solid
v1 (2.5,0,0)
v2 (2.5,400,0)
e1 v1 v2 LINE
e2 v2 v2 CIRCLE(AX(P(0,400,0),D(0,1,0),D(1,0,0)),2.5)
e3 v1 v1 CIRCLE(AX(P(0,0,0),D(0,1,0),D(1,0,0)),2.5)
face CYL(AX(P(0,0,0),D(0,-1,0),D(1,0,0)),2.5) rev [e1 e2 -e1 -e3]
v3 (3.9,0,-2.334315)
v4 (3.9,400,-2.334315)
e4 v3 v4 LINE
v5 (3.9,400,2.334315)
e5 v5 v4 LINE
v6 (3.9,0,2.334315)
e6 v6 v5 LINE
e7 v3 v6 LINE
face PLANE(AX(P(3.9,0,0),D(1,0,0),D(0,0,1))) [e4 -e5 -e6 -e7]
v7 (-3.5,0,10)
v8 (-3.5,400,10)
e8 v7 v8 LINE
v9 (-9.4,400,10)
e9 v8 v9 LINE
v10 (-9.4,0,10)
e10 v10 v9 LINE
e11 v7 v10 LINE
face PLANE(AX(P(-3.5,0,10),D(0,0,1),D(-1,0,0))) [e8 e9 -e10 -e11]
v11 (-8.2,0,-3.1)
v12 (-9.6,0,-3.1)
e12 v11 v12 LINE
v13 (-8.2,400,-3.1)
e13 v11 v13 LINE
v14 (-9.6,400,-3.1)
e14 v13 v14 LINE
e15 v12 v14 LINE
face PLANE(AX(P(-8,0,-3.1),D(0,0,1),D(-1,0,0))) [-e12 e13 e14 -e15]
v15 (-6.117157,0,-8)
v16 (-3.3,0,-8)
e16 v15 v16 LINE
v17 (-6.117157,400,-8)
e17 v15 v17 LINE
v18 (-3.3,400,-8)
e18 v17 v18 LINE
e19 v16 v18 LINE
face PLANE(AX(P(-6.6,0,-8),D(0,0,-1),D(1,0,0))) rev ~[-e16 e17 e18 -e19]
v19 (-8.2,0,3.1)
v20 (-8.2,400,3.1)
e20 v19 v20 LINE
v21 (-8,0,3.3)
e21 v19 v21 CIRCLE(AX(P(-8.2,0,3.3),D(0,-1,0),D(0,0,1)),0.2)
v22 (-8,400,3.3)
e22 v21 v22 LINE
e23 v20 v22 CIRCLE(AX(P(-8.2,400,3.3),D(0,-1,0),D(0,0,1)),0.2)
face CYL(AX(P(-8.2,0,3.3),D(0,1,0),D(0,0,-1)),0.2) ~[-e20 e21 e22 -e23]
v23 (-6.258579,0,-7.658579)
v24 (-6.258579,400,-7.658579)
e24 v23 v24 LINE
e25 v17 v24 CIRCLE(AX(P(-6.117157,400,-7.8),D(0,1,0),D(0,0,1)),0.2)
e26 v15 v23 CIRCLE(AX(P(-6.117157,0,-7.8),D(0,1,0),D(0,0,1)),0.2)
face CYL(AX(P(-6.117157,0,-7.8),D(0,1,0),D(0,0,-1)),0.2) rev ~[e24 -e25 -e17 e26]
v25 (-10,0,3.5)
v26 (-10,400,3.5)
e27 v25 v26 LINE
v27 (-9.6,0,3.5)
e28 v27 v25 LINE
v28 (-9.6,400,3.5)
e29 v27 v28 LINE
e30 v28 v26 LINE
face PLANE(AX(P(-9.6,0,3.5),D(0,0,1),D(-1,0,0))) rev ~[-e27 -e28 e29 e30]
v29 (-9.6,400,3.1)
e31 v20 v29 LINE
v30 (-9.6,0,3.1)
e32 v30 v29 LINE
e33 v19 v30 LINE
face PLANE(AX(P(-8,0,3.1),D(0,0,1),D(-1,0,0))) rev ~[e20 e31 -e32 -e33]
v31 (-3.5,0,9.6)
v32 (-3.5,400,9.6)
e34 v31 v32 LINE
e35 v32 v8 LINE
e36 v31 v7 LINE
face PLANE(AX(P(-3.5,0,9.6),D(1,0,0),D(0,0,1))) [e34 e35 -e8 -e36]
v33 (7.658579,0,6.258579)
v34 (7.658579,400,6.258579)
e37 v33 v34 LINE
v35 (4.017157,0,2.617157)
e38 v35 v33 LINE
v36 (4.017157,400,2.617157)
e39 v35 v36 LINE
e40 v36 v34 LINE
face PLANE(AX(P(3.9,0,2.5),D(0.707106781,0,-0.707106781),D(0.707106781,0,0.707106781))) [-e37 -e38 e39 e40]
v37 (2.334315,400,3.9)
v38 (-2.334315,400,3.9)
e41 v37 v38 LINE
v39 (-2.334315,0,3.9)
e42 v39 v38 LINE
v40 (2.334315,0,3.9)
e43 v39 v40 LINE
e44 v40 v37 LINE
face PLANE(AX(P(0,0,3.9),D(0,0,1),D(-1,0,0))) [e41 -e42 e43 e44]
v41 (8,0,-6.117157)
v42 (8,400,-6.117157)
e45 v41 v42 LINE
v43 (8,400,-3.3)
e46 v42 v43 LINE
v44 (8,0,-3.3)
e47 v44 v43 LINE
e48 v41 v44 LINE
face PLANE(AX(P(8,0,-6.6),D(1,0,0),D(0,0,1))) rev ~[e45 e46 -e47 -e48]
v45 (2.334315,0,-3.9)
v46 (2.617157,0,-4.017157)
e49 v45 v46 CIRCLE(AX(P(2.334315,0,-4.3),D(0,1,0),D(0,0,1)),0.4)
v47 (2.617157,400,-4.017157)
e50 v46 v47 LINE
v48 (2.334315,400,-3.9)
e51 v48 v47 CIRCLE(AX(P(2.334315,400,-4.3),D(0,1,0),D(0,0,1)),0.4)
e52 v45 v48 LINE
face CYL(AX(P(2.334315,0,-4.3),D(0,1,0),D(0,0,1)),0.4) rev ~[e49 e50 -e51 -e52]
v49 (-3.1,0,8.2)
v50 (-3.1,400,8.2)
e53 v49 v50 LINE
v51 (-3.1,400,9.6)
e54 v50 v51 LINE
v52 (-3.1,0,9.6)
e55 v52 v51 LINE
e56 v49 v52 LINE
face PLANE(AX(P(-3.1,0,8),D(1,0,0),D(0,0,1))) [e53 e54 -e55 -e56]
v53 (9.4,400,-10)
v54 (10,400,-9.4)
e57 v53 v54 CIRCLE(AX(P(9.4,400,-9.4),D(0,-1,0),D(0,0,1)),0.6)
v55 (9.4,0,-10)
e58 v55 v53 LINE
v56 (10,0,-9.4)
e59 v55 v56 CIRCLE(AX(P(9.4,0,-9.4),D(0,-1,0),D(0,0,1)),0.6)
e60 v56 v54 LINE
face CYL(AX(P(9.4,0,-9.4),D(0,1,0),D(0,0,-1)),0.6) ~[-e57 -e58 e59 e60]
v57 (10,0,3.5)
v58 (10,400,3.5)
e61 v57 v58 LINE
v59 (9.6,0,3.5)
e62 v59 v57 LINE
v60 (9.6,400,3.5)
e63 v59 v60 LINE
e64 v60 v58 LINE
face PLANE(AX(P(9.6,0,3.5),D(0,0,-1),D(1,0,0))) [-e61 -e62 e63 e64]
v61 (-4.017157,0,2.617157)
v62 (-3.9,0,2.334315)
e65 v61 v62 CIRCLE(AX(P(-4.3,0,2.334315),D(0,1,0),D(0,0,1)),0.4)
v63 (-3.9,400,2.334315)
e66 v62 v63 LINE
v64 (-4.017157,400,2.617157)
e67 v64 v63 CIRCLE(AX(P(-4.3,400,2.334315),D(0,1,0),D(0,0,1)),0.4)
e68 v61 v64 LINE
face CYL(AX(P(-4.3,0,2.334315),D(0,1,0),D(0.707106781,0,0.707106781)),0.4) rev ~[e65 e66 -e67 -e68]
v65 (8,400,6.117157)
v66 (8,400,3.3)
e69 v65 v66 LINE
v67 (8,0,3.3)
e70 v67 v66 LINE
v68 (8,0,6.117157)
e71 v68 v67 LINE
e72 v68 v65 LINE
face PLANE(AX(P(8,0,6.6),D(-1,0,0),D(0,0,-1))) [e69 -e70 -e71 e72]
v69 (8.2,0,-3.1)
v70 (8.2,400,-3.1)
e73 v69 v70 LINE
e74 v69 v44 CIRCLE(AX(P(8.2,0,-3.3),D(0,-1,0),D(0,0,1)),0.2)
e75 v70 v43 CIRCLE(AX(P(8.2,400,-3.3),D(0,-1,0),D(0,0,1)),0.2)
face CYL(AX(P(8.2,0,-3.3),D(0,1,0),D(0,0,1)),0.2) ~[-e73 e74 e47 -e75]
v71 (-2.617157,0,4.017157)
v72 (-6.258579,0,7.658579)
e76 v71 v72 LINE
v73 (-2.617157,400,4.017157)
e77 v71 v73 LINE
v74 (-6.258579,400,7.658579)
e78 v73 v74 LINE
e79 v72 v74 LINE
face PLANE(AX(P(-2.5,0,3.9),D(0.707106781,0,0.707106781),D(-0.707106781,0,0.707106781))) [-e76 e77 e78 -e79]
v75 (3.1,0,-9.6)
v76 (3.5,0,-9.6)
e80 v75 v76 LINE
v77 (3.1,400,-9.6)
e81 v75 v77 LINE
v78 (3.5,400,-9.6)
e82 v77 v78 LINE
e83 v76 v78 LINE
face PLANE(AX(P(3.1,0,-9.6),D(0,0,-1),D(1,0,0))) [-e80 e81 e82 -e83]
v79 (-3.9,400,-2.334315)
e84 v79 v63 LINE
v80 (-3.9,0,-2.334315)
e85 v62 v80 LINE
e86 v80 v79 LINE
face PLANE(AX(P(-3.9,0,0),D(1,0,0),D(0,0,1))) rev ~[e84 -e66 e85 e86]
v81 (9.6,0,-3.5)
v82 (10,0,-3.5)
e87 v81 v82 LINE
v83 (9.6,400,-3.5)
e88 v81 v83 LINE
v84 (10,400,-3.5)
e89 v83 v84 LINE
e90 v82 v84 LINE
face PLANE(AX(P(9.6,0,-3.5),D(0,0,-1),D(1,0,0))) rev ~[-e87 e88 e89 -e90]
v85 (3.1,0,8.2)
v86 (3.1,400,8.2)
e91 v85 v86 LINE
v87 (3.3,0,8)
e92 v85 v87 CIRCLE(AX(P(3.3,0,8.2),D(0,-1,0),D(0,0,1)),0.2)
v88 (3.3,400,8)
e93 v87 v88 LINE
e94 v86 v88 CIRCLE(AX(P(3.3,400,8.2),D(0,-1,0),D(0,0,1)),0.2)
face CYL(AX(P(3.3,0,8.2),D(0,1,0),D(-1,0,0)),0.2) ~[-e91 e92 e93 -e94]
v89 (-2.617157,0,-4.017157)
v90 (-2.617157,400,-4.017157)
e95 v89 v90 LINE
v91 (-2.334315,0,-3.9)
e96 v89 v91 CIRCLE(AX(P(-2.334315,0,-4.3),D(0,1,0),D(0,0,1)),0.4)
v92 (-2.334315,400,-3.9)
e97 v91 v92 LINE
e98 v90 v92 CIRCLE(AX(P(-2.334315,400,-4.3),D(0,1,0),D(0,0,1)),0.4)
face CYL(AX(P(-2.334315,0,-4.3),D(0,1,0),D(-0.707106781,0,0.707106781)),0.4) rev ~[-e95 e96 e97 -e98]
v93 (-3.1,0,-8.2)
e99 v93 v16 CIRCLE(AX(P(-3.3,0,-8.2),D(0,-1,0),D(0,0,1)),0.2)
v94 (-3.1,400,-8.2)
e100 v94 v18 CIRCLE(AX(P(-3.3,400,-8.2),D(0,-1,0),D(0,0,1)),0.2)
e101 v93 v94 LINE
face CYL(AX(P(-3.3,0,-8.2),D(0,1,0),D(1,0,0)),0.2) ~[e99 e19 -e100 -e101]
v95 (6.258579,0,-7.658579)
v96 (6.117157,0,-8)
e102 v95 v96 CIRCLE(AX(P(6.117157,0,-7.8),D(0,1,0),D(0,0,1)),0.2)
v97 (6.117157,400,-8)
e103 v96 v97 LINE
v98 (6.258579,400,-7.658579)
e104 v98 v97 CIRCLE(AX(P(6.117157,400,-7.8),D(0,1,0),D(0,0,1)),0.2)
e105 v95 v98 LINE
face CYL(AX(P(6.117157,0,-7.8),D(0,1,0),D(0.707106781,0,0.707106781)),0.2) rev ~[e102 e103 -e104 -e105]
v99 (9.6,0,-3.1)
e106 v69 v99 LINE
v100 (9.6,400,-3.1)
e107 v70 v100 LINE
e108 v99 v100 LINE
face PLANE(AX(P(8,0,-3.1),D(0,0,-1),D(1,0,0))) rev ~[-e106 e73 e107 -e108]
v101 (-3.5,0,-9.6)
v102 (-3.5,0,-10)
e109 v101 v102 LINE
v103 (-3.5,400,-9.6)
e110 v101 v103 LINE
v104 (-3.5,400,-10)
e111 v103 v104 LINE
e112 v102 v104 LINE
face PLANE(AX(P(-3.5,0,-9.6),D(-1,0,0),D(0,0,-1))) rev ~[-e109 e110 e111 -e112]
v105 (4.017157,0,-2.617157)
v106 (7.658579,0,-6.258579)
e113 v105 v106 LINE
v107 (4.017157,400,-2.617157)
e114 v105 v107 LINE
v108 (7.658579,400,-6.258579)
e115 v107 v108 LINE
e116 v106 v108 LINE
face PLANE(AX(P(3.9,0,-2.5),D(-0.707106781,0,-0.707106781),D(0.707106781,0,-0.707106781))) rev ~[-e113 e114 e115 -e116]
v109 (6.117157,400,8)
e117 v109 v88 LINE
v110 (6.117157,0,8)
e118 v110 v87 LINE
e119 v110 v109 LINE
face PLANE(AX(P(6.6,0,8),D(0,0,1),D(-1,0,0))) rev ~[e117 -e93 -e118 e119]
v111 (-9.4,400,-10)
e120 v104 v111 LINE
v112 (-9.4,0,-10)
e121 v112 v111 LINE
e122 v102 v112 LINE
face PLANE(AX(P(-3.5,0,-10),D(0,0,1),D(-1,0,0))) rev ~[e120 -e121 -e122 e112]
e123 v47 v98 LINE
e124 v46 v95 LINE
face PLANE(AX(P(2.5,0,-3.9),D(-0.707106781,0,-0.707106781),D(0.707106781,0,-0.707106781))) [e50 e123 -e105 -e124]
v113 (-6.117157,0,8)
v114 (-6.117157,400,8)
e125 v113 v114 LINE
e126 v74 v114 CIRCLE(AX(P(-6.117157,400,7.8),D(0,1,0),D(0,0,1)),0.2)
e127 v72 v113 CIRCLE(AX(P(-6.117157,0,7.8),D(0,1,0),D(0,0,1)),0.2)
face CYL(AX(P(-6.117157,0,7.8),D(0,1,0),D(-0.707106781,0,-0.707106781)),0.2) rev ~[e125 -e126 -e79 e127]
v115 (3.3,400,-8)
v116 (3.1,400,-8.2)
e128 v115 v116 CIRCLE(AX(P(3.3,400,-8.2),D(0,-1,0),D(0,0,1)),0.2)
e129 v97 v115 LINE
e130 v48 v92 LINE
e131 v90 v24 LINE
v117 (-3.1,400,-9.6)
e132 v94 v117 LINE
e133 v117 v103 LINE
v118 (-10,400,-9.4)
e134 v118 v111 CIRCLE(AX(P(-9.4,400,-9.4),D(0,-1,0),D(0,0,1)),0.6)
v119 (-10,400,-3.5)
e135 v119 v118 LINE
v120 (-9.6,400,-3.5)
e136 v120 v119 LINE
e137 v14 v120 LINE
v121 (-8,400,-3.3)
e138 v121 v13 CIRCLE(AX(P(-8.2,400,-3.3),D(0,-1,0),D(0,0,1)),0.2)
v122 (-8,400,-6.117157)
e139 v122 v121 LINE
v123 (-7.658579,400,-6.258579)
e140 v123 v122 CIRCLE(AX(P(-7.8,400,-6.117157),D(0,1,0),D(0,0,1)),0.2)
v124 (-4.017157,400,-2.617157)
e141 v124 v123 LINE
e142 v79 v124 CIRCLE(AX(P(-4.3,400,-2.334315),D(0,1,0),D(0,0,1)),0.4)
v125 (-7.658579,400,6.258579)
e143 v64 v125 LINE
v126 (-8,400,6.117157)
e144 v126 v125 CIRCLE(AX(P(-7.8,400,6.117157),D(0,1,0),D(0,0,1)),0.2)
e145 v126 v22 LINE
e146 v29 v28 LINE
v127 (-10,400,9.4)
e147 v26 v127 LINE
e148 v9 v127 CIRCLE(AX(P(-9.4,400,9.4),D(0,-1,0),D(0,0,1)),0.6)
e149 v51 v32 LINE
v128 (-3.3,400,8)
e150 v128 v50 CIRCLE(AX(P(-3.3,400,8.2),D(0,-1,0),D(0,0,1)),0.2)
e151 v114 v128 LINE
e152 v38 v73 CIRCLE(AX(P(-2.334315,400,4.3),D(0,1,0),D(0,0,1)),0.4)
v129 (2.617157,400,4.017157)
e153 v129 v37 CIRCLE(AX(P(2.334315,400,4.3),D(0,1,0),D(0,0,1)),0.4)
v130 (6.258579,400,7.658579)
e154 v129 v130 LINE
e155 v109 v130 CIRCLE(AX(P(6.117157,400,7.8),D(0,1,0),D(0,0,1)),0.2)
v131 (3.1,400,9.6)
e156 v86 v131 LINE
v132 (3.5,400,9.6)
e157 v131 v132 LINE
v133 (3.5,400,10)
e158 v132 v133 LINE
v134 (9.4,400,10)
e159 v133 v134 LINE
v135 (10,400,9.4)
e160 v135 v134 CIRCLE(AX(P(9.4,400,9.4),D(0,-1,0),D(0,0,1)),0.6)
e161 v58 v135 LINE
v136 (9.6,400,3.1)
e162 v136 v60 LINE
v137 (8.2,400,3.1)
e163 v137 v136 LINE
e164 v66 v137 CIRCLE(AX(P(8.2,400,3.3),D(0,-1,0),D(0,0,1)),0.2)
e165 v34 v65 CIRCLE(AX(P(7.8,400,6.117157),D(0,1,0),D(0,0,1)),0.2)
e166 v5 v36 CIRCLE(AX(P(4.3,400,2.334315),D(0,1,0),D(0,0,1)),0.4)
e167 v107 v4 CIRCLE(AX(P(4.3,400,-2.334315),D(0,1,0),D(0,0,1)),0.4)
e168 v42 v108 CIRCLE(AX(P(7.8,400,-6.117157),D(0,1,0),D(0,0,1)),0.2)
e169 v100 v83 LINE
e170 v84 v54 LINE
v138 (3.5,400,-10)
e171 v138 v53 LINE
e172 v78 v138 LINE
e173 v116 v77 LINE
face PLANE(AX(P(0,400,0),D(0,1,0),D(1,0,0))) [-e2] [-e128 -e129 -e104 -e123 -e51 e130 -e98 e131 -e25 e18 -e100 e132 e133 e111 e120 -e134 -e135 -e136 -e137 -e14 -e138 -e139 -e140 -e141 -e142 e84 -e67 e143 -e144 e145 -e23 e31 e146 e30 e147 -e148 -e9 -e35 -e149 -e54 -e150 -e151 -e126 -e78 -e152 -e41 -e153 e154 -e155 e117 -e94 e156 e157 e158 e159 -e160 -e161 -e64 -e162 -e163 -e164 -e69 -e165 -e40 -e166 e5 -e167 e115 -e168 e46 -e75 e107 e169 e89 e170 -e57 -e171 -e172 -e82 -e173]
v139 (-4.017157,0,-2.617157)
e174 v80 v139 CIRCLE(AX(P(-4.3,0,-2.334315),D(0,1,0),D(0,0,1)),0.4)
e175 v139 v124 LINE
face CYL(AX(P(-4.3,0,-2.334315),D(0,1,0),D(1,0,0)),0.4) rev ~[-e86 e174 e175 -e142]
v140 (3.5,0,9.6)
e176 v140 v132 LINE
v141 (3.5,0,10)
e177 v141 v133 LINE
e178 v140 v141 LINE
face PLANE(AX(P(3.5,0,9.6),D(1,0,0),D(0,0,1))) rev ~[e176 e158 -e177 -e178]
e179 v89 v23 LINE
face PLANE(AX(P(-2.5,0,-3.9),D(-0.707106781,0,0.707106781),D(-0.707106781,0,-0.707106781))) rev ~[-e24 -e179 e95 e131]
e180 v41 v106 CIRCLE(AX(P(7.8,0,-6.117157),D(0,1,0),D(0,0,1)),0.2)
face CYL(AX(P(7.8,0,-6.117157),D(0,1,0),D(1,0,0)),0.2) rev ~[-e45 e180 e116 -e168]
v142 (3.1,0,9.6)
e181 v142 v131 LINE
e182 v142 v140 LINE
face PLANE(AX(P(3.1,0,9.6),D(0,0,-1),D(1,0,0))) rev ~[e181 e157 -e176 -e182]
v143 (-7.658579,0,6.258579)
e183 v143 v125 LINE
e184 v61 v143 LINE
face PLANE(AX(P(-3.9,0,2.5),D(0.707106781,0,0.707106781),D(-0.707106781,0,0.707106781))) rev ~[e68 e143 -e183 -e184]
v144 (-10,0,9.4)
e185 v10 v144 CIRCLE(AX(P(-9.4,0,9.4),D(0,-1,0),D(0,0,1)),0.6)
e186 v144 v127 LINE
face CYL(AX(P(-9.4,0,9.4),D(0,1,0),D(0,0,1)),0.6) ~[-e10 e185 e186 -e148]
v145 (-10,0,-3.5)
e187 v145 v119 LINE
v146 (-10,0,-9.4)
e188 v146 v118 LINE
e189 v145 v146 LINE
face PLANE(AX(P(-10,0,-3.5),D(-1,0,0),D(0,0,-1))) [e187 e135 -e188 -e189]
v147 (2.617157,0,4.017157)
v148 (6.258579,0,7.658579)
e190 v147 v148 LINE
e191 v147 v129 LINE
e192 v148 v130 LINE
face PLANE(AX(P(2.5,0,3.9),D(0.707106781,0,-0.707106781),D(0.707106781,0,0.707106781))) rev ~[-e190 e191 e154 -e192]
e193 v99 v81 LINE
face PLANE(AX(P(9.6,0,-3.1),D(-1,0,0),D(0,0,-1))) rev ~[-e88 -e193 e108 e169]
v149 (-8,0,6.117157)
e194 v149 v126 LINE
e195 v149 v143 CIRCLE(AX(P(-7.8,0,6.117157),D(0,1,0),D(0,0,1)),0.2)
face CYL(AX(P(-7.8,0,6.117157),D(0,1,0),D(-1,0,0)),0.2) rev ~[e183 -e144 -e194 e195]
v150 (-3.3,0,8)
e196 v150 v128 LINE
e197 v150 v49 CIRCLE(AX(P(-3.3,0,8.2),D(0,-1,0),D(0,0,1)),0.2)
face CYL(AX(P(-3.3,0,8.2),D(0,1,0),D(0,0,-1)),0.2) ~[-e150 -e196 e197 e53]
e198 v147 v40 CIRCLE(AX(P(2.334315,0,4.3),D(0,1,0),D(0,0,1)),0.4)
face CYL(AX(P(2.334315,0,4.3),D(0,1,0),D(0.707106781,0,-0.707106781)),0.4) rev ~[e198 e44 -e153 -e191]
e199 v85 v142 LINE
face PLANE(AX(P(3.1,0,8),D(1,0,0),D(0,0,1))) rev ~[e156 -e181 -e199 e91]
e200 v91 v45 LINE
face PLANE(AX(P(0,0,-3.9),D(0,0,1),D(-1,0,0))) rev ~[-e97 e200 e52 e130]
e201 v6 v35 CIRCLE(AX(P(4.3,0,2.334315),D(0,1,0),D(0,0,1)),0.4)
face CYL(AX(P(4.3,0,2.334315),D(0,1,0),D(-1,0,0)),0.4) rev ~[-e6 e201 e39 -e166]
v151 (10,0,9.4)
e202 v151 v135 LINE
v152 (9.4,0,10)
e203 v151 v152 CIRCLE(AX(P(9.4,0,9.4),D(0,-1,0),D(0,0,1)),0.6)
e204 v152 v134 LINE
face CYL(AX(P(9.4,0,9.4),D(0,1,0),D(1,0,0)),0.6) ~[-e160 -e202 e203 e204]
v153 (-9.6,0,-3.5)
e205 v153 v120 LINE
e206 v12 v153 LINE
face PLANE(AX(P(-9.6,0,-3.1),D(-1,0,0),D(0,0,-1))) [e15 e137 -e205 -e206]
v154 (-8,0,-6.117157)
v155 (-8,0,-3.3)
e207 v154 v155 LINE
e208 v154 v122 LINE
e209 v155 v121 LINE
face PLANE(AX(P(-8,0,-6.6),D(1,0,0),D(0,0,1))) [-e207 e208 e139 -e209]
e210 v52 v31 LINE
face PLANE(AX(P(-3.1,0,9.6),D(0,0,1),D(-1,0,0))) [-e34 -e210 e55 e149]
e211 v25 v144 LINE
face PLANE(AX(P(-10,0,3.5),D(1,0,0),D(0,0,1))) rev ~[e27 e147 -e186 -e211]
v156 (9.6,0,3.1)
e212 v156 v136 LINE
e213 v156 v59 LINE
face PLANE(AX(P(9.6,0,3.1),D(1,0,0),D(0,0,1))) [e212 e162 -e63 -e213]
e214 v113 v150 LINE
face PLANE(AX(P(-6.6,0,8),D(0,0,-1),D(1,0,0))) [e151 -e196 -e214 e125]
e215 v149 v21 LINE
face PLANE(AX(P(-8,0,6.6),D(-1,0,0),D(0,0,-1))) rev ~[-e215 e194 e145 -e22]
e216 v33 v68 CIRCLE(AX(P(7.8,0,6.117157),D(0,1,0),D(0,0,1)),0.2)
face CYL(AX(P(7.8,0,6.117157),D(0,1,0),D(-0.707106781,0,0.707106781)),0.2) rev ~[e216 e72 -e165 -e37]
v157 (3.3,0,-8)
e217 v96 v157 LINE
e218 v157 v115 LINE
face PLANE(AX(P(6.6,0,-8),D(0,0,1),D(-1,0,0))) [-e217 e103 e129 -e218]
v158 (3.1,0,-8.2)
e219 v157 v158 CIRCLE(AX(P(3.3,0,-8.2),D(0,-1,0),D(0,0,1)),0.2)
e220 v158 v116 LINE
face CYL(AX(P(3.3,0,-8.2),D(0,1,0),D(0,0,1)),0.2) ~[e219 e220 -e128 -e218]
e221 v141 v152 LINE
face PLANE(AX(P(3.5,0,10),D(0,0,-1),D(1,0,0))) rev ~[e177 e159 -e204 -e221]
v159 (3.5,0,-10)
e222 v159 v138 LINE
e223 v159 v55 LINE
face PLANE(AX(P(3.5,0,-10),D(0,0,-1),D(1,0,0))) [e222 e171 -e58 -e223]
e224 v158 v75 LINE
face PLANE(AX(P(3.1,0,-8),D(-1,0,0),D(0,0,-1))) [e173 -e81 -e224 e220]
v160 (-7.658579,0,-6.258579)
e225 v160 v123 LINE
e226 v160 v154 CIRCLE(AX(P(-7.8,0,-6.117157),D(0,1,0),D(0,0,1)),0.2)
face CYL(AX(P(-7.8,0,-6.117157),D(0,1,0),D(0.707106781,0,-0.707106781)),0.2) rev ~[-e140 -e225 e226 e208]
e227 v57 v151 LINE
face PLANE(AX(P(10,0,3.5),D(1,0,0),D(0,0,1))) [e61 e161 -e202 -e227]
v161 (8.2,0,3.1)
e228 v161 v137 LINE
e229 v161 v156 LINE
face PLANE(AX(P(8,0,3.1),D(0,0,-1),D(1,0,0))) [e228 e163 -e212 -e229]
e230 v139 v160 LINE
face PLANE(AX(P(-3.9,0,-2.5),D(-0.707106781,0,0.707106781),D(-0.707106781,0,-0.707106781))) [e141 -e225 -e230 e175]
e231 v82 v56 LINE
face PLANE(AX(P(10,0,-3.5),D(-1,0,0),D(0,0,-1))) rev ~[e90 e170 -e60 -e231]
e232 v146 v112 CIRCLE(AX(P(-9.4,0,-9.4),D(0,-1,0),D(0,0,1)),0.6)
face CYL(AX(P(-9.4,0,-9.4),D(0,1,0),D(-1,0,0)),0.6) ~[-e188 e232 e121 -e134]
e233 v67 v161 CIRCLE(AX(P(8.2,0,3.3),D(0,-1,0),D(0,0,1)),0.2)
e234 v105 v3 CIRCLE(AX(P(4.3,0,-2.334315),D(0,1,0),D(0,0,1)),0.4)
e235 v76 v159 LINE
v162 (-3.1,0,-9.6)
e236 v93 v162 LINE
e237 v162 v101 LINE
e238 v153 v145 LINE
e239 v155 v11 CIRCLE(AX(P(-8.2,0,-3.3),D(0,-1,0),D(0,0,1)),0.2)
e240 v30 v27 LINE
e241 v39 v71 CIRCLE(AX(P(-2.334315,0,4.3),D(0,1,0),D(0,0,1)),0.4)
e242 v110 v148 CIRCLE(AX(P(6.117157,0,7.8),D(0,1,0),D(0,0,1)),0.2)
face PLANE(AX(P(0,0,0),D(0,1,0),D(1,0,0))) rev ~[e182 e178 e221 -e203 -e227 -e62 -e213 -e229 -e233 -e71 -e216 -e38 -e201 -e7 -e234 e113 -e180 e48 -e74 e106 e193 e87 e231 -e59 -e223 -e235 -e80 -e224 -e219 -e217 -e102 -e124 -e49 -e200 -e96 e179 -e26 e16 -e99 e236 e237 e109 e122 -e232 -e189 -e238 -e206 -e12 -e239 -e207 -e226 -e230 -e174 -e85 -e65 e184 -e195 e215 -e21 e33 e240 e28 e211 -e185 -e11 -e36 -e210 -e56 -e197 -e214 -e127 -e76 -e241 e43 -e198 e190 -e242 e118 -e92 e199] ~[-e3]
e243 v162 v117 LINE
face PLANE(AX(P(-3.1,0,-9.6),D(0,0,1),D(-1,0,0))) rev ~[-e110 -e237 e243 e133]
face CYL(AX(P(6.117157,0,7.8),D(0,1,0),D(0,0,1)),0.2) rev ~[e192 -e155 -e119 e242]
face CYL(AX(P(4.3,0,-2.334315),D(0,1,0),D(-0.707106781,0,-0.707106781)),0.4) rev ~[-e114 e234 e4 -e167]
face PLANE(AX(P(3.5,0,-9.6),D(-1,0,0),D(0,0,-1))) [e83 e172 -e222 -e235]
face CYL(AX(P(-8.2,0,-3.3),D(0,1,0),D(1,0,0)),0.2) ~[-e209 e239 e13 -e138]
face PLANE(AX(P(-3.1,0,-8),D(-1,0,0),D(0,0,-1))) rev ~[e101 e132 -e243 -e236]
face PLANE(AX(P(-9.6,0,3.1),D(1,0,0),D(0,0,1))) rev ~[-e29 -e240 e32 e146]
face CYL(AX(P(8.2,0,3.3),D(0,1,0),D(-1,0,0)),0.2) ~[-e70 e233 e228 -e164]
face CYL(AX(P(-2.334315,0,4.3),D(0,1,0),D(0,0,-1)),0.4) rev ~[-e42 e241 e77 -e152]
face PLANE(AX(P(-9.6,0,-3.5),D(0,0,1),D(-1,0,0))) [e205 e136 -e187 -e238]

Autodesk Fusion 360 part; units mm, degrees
sketch "profile" plane through (0, 0, 0) normal (0, 1, 0) x (1, 0, 0)
  circle A0 centre (0, 0) radius 2.5
  line L0 (0, -3.9) -> (-2.5, -3.9)
  line L1 (4, -4) -> (-4, 4) construction
  line L2 (-3.9092, -3.9092) -> (4, 4) construction
  line L3 (10, -10) -> (-10, -10) construction
  line L4 (-10, -10) -> (-10, 10) construction
  line L5 (-10, 10) -> (10, 10) construction
  line L6 (10, 10) -> (10, -10) construction
  line L7 (10, -10) -> (-10, 10) construction
  line L8 (-10, -10) -> (10, 10) construction
  line L9 (8, -8) -> (-8, -8) construction
  line L10 (-8, -8) -> (-8, 8) construction
  line L11 (-8, 8) -> (8, 8) construction
  line L12 (8, 8) -> (8, -8) construction
  line L13 (8, -8) -> (-8, 8) construction
  line L14 (-8, -8) -> (8, 8) construction
  line L15 (0, -8) -> (0, -10) construction
  line L16 (0, -9) -> (-3.1, -9) construction
  line L17 (-3.1, -8) -> (-3.1, -9.6)
  line L18 (-1.75, -10) -> (-1.75, -9.6) construction
  line L19 (0, -9.6) -> (-3.5, -9.6) construction
  line L20 (-3.1, -9.6) -> (-3.5, -9.6)
  line L21 (-3.5, -9.6) -> (-3.5, -10)
  line L22 (0, 0) -> (0, -8) construction
  line L23 (-3.5, -10) -> (-10, -10)
  line L24 (-3.9092, -3.9092) -> (-2.5, -3.9) construction
  line L25 (-8, -8) -> (-6.6, -8) construction
  line L26 (-8, -8) -> (-8, -7) construction
  line L27 (-2.5, -3.9) -> (-6.6, -8)
  line L28 (-6.6, -8) -> (-3.1, -8)
  line L29 (0, -2.5) -> (0, -3.9) construction
  line L30 (-3.9, 0) -> (-3.9, -2.5)
  line L31 (-3.9, -2.5) -> (-8, -6.6)
  line L32 (-8, -6.6) -> (-8, -3.1)
  line L33 (-8, -3.1) -> (-9.6, -3.1)
  line L34 (-9.6, -3.1) -> (-9.6, -3.5)
  line L35 (-9.6, -3.5) -> (-10, -3.5)
  line L36 (-10, -3.5) -> (-10, -10)
  line L37 (0, 0) -> (10, 0) construction
  line L38 (3.9, 0) -> (3.9, -2.5)
  line L39 (3.9, -2.5) -> (8, -6.6)
  line L40 (8, -6.6) -> (8, -3.1)
  line L41 (8, -3.1) -> (9.6, -3.1)
  line L42 (9.6, -3.1) -> (9.6, -3.5)
  line L43 (9.6, -3.5) -> (10, -3.5)
  line L44 (10, -3.5) -> (10, -10)
  line L45 (0, -3.9) -> (2.5, -3.9)
  line L46 (6.6, -8) -> (3.1, -8)
  line L47 (3.1, -8) -> (3.1, -9.6)
  line L48 (3.1, -9.6) -> (3.5, -9.6)
  line L49 (3.5, -9.6) -> (3.5, -10)
  line L50 (3.5, -10) -> (10, -10)
  line L51 (2.5, -3.9) -> (6.6, -8)
  line L52 (-3.9, 0) -> (-3.9, 2.5)
  line L53 (-3.9, 2.5) -> (-8, 6.6)
  line L54 (-8, 6.6) -> (-8, 3.1)
  line L55 (-8, 3.1) -> (-9.6, 3.1)
  line L56 (-9.6, 3.1) -> (-9.6, 3.5)
  line L57 (-9.6, 3.5) -> (-10, 3.5)
  line L58 (-10, 3.5) -> (-10, 10)
  line L59 (0, 3.9) -> (-2.5, 3.9)
  line L60 (-6.6, 8) -> (-3.1, 8)
  line L61 (-3.1, 8) -> (-3.1, 9.6)
  line L62 (-3.1, 9.6) -> (-3.5, 9.6)
  line L63 (-3.5, 9.6) -> (-3.5, 10)
  line L64 (-3.5, 10) -> (-10, 10)
  line L65 (-2.5, 3.9) -> (-6.6, 8)
  line L66 (0, 3.9) -> (2.5, 3.9)
  line L67 (6.6, 8) -> (3.1, 8)
  line L68 (3.1, 8) -> (3.1, 9.6)
  line L69 (3.1, 9.6) -> (3.5, 9.6)
  line L70 (3.5, 9.6) -> (3.5, 10)
  line L71 (3.5, 10) -> (10, 10)
  line L72 (2.5, 3.9) -> (6.6, 8)
  line L73 (3.9, 0) -> (3.9, 2.5)
  line L74 (8, 6.6) -> (8, 3.1)
  line L75 (8, 3.1) -> (9.6, 3.1)
  line L76 (9.6, 3.1) -> (9.6, 3.5)
  line L77 (9.6, 3.5) -> (10, 3.5)
  line L78 (10, 3.5) -> (10, 10)
  line L79 (3.9, 2.5) -> (8, 6.6)
  dimension "d3" = 5
  dimension "d7" = 8
  dimension "d8" = 8
  dimension "d9" = 20
  dimension "d10" = 20
  dimension "d11" = 16
  dimension "d12" = 16
  dimension "d13" = 3.1
  dimension "d14" = 0.4
  dimension "d15" = 3.5
  dimension "d20" = 2.5
  dimension "d21" = 1.4
extrude "Extrude3" add sketch "profile" along normal blind 400
fillet "Fillet1" radius 0.6 4 edges at (-10, 200, 10) (10, 200, 10) (10, 200, -10) (-10, 200, -10)
fillet "Fillet1" radius 0.2 8 edges at (3.1, 200, 8) (8, 200, 3.1) (8, 200, -3.1) (3.1, 200, -8) (-3.1, 200, 8) (-8, 200, 3.1) (-3.1, 200, -8) (-8, 200, -3.1)
fillet "Fillet1" radius 0.2 8 edges at (-8, 200, 6.6) (-6.6, 200, 8) (6.6, 200, 8) (8, 200, 6.6) (8, 200, -6.6) (6.6, 200, -8) (-6.6, 200, -8) (-8, 200, -6.6)
fillet "Fillet1" radius 0.4 8 edges at (-2.5, 200, 3.9) (2.5, 200, 3.9) (3.9, 200, 2.5) (3.9, 200, -2.5) (2.5, 200, -3.9) (-2.5, 200, -3.9) (-3.9, 200, -2.5) (-3.9, 200, 2.5)
equation "d13 = ( 6.2 / 2 ) * 1 mm"
equation "d15 = 7 mm / 2"
